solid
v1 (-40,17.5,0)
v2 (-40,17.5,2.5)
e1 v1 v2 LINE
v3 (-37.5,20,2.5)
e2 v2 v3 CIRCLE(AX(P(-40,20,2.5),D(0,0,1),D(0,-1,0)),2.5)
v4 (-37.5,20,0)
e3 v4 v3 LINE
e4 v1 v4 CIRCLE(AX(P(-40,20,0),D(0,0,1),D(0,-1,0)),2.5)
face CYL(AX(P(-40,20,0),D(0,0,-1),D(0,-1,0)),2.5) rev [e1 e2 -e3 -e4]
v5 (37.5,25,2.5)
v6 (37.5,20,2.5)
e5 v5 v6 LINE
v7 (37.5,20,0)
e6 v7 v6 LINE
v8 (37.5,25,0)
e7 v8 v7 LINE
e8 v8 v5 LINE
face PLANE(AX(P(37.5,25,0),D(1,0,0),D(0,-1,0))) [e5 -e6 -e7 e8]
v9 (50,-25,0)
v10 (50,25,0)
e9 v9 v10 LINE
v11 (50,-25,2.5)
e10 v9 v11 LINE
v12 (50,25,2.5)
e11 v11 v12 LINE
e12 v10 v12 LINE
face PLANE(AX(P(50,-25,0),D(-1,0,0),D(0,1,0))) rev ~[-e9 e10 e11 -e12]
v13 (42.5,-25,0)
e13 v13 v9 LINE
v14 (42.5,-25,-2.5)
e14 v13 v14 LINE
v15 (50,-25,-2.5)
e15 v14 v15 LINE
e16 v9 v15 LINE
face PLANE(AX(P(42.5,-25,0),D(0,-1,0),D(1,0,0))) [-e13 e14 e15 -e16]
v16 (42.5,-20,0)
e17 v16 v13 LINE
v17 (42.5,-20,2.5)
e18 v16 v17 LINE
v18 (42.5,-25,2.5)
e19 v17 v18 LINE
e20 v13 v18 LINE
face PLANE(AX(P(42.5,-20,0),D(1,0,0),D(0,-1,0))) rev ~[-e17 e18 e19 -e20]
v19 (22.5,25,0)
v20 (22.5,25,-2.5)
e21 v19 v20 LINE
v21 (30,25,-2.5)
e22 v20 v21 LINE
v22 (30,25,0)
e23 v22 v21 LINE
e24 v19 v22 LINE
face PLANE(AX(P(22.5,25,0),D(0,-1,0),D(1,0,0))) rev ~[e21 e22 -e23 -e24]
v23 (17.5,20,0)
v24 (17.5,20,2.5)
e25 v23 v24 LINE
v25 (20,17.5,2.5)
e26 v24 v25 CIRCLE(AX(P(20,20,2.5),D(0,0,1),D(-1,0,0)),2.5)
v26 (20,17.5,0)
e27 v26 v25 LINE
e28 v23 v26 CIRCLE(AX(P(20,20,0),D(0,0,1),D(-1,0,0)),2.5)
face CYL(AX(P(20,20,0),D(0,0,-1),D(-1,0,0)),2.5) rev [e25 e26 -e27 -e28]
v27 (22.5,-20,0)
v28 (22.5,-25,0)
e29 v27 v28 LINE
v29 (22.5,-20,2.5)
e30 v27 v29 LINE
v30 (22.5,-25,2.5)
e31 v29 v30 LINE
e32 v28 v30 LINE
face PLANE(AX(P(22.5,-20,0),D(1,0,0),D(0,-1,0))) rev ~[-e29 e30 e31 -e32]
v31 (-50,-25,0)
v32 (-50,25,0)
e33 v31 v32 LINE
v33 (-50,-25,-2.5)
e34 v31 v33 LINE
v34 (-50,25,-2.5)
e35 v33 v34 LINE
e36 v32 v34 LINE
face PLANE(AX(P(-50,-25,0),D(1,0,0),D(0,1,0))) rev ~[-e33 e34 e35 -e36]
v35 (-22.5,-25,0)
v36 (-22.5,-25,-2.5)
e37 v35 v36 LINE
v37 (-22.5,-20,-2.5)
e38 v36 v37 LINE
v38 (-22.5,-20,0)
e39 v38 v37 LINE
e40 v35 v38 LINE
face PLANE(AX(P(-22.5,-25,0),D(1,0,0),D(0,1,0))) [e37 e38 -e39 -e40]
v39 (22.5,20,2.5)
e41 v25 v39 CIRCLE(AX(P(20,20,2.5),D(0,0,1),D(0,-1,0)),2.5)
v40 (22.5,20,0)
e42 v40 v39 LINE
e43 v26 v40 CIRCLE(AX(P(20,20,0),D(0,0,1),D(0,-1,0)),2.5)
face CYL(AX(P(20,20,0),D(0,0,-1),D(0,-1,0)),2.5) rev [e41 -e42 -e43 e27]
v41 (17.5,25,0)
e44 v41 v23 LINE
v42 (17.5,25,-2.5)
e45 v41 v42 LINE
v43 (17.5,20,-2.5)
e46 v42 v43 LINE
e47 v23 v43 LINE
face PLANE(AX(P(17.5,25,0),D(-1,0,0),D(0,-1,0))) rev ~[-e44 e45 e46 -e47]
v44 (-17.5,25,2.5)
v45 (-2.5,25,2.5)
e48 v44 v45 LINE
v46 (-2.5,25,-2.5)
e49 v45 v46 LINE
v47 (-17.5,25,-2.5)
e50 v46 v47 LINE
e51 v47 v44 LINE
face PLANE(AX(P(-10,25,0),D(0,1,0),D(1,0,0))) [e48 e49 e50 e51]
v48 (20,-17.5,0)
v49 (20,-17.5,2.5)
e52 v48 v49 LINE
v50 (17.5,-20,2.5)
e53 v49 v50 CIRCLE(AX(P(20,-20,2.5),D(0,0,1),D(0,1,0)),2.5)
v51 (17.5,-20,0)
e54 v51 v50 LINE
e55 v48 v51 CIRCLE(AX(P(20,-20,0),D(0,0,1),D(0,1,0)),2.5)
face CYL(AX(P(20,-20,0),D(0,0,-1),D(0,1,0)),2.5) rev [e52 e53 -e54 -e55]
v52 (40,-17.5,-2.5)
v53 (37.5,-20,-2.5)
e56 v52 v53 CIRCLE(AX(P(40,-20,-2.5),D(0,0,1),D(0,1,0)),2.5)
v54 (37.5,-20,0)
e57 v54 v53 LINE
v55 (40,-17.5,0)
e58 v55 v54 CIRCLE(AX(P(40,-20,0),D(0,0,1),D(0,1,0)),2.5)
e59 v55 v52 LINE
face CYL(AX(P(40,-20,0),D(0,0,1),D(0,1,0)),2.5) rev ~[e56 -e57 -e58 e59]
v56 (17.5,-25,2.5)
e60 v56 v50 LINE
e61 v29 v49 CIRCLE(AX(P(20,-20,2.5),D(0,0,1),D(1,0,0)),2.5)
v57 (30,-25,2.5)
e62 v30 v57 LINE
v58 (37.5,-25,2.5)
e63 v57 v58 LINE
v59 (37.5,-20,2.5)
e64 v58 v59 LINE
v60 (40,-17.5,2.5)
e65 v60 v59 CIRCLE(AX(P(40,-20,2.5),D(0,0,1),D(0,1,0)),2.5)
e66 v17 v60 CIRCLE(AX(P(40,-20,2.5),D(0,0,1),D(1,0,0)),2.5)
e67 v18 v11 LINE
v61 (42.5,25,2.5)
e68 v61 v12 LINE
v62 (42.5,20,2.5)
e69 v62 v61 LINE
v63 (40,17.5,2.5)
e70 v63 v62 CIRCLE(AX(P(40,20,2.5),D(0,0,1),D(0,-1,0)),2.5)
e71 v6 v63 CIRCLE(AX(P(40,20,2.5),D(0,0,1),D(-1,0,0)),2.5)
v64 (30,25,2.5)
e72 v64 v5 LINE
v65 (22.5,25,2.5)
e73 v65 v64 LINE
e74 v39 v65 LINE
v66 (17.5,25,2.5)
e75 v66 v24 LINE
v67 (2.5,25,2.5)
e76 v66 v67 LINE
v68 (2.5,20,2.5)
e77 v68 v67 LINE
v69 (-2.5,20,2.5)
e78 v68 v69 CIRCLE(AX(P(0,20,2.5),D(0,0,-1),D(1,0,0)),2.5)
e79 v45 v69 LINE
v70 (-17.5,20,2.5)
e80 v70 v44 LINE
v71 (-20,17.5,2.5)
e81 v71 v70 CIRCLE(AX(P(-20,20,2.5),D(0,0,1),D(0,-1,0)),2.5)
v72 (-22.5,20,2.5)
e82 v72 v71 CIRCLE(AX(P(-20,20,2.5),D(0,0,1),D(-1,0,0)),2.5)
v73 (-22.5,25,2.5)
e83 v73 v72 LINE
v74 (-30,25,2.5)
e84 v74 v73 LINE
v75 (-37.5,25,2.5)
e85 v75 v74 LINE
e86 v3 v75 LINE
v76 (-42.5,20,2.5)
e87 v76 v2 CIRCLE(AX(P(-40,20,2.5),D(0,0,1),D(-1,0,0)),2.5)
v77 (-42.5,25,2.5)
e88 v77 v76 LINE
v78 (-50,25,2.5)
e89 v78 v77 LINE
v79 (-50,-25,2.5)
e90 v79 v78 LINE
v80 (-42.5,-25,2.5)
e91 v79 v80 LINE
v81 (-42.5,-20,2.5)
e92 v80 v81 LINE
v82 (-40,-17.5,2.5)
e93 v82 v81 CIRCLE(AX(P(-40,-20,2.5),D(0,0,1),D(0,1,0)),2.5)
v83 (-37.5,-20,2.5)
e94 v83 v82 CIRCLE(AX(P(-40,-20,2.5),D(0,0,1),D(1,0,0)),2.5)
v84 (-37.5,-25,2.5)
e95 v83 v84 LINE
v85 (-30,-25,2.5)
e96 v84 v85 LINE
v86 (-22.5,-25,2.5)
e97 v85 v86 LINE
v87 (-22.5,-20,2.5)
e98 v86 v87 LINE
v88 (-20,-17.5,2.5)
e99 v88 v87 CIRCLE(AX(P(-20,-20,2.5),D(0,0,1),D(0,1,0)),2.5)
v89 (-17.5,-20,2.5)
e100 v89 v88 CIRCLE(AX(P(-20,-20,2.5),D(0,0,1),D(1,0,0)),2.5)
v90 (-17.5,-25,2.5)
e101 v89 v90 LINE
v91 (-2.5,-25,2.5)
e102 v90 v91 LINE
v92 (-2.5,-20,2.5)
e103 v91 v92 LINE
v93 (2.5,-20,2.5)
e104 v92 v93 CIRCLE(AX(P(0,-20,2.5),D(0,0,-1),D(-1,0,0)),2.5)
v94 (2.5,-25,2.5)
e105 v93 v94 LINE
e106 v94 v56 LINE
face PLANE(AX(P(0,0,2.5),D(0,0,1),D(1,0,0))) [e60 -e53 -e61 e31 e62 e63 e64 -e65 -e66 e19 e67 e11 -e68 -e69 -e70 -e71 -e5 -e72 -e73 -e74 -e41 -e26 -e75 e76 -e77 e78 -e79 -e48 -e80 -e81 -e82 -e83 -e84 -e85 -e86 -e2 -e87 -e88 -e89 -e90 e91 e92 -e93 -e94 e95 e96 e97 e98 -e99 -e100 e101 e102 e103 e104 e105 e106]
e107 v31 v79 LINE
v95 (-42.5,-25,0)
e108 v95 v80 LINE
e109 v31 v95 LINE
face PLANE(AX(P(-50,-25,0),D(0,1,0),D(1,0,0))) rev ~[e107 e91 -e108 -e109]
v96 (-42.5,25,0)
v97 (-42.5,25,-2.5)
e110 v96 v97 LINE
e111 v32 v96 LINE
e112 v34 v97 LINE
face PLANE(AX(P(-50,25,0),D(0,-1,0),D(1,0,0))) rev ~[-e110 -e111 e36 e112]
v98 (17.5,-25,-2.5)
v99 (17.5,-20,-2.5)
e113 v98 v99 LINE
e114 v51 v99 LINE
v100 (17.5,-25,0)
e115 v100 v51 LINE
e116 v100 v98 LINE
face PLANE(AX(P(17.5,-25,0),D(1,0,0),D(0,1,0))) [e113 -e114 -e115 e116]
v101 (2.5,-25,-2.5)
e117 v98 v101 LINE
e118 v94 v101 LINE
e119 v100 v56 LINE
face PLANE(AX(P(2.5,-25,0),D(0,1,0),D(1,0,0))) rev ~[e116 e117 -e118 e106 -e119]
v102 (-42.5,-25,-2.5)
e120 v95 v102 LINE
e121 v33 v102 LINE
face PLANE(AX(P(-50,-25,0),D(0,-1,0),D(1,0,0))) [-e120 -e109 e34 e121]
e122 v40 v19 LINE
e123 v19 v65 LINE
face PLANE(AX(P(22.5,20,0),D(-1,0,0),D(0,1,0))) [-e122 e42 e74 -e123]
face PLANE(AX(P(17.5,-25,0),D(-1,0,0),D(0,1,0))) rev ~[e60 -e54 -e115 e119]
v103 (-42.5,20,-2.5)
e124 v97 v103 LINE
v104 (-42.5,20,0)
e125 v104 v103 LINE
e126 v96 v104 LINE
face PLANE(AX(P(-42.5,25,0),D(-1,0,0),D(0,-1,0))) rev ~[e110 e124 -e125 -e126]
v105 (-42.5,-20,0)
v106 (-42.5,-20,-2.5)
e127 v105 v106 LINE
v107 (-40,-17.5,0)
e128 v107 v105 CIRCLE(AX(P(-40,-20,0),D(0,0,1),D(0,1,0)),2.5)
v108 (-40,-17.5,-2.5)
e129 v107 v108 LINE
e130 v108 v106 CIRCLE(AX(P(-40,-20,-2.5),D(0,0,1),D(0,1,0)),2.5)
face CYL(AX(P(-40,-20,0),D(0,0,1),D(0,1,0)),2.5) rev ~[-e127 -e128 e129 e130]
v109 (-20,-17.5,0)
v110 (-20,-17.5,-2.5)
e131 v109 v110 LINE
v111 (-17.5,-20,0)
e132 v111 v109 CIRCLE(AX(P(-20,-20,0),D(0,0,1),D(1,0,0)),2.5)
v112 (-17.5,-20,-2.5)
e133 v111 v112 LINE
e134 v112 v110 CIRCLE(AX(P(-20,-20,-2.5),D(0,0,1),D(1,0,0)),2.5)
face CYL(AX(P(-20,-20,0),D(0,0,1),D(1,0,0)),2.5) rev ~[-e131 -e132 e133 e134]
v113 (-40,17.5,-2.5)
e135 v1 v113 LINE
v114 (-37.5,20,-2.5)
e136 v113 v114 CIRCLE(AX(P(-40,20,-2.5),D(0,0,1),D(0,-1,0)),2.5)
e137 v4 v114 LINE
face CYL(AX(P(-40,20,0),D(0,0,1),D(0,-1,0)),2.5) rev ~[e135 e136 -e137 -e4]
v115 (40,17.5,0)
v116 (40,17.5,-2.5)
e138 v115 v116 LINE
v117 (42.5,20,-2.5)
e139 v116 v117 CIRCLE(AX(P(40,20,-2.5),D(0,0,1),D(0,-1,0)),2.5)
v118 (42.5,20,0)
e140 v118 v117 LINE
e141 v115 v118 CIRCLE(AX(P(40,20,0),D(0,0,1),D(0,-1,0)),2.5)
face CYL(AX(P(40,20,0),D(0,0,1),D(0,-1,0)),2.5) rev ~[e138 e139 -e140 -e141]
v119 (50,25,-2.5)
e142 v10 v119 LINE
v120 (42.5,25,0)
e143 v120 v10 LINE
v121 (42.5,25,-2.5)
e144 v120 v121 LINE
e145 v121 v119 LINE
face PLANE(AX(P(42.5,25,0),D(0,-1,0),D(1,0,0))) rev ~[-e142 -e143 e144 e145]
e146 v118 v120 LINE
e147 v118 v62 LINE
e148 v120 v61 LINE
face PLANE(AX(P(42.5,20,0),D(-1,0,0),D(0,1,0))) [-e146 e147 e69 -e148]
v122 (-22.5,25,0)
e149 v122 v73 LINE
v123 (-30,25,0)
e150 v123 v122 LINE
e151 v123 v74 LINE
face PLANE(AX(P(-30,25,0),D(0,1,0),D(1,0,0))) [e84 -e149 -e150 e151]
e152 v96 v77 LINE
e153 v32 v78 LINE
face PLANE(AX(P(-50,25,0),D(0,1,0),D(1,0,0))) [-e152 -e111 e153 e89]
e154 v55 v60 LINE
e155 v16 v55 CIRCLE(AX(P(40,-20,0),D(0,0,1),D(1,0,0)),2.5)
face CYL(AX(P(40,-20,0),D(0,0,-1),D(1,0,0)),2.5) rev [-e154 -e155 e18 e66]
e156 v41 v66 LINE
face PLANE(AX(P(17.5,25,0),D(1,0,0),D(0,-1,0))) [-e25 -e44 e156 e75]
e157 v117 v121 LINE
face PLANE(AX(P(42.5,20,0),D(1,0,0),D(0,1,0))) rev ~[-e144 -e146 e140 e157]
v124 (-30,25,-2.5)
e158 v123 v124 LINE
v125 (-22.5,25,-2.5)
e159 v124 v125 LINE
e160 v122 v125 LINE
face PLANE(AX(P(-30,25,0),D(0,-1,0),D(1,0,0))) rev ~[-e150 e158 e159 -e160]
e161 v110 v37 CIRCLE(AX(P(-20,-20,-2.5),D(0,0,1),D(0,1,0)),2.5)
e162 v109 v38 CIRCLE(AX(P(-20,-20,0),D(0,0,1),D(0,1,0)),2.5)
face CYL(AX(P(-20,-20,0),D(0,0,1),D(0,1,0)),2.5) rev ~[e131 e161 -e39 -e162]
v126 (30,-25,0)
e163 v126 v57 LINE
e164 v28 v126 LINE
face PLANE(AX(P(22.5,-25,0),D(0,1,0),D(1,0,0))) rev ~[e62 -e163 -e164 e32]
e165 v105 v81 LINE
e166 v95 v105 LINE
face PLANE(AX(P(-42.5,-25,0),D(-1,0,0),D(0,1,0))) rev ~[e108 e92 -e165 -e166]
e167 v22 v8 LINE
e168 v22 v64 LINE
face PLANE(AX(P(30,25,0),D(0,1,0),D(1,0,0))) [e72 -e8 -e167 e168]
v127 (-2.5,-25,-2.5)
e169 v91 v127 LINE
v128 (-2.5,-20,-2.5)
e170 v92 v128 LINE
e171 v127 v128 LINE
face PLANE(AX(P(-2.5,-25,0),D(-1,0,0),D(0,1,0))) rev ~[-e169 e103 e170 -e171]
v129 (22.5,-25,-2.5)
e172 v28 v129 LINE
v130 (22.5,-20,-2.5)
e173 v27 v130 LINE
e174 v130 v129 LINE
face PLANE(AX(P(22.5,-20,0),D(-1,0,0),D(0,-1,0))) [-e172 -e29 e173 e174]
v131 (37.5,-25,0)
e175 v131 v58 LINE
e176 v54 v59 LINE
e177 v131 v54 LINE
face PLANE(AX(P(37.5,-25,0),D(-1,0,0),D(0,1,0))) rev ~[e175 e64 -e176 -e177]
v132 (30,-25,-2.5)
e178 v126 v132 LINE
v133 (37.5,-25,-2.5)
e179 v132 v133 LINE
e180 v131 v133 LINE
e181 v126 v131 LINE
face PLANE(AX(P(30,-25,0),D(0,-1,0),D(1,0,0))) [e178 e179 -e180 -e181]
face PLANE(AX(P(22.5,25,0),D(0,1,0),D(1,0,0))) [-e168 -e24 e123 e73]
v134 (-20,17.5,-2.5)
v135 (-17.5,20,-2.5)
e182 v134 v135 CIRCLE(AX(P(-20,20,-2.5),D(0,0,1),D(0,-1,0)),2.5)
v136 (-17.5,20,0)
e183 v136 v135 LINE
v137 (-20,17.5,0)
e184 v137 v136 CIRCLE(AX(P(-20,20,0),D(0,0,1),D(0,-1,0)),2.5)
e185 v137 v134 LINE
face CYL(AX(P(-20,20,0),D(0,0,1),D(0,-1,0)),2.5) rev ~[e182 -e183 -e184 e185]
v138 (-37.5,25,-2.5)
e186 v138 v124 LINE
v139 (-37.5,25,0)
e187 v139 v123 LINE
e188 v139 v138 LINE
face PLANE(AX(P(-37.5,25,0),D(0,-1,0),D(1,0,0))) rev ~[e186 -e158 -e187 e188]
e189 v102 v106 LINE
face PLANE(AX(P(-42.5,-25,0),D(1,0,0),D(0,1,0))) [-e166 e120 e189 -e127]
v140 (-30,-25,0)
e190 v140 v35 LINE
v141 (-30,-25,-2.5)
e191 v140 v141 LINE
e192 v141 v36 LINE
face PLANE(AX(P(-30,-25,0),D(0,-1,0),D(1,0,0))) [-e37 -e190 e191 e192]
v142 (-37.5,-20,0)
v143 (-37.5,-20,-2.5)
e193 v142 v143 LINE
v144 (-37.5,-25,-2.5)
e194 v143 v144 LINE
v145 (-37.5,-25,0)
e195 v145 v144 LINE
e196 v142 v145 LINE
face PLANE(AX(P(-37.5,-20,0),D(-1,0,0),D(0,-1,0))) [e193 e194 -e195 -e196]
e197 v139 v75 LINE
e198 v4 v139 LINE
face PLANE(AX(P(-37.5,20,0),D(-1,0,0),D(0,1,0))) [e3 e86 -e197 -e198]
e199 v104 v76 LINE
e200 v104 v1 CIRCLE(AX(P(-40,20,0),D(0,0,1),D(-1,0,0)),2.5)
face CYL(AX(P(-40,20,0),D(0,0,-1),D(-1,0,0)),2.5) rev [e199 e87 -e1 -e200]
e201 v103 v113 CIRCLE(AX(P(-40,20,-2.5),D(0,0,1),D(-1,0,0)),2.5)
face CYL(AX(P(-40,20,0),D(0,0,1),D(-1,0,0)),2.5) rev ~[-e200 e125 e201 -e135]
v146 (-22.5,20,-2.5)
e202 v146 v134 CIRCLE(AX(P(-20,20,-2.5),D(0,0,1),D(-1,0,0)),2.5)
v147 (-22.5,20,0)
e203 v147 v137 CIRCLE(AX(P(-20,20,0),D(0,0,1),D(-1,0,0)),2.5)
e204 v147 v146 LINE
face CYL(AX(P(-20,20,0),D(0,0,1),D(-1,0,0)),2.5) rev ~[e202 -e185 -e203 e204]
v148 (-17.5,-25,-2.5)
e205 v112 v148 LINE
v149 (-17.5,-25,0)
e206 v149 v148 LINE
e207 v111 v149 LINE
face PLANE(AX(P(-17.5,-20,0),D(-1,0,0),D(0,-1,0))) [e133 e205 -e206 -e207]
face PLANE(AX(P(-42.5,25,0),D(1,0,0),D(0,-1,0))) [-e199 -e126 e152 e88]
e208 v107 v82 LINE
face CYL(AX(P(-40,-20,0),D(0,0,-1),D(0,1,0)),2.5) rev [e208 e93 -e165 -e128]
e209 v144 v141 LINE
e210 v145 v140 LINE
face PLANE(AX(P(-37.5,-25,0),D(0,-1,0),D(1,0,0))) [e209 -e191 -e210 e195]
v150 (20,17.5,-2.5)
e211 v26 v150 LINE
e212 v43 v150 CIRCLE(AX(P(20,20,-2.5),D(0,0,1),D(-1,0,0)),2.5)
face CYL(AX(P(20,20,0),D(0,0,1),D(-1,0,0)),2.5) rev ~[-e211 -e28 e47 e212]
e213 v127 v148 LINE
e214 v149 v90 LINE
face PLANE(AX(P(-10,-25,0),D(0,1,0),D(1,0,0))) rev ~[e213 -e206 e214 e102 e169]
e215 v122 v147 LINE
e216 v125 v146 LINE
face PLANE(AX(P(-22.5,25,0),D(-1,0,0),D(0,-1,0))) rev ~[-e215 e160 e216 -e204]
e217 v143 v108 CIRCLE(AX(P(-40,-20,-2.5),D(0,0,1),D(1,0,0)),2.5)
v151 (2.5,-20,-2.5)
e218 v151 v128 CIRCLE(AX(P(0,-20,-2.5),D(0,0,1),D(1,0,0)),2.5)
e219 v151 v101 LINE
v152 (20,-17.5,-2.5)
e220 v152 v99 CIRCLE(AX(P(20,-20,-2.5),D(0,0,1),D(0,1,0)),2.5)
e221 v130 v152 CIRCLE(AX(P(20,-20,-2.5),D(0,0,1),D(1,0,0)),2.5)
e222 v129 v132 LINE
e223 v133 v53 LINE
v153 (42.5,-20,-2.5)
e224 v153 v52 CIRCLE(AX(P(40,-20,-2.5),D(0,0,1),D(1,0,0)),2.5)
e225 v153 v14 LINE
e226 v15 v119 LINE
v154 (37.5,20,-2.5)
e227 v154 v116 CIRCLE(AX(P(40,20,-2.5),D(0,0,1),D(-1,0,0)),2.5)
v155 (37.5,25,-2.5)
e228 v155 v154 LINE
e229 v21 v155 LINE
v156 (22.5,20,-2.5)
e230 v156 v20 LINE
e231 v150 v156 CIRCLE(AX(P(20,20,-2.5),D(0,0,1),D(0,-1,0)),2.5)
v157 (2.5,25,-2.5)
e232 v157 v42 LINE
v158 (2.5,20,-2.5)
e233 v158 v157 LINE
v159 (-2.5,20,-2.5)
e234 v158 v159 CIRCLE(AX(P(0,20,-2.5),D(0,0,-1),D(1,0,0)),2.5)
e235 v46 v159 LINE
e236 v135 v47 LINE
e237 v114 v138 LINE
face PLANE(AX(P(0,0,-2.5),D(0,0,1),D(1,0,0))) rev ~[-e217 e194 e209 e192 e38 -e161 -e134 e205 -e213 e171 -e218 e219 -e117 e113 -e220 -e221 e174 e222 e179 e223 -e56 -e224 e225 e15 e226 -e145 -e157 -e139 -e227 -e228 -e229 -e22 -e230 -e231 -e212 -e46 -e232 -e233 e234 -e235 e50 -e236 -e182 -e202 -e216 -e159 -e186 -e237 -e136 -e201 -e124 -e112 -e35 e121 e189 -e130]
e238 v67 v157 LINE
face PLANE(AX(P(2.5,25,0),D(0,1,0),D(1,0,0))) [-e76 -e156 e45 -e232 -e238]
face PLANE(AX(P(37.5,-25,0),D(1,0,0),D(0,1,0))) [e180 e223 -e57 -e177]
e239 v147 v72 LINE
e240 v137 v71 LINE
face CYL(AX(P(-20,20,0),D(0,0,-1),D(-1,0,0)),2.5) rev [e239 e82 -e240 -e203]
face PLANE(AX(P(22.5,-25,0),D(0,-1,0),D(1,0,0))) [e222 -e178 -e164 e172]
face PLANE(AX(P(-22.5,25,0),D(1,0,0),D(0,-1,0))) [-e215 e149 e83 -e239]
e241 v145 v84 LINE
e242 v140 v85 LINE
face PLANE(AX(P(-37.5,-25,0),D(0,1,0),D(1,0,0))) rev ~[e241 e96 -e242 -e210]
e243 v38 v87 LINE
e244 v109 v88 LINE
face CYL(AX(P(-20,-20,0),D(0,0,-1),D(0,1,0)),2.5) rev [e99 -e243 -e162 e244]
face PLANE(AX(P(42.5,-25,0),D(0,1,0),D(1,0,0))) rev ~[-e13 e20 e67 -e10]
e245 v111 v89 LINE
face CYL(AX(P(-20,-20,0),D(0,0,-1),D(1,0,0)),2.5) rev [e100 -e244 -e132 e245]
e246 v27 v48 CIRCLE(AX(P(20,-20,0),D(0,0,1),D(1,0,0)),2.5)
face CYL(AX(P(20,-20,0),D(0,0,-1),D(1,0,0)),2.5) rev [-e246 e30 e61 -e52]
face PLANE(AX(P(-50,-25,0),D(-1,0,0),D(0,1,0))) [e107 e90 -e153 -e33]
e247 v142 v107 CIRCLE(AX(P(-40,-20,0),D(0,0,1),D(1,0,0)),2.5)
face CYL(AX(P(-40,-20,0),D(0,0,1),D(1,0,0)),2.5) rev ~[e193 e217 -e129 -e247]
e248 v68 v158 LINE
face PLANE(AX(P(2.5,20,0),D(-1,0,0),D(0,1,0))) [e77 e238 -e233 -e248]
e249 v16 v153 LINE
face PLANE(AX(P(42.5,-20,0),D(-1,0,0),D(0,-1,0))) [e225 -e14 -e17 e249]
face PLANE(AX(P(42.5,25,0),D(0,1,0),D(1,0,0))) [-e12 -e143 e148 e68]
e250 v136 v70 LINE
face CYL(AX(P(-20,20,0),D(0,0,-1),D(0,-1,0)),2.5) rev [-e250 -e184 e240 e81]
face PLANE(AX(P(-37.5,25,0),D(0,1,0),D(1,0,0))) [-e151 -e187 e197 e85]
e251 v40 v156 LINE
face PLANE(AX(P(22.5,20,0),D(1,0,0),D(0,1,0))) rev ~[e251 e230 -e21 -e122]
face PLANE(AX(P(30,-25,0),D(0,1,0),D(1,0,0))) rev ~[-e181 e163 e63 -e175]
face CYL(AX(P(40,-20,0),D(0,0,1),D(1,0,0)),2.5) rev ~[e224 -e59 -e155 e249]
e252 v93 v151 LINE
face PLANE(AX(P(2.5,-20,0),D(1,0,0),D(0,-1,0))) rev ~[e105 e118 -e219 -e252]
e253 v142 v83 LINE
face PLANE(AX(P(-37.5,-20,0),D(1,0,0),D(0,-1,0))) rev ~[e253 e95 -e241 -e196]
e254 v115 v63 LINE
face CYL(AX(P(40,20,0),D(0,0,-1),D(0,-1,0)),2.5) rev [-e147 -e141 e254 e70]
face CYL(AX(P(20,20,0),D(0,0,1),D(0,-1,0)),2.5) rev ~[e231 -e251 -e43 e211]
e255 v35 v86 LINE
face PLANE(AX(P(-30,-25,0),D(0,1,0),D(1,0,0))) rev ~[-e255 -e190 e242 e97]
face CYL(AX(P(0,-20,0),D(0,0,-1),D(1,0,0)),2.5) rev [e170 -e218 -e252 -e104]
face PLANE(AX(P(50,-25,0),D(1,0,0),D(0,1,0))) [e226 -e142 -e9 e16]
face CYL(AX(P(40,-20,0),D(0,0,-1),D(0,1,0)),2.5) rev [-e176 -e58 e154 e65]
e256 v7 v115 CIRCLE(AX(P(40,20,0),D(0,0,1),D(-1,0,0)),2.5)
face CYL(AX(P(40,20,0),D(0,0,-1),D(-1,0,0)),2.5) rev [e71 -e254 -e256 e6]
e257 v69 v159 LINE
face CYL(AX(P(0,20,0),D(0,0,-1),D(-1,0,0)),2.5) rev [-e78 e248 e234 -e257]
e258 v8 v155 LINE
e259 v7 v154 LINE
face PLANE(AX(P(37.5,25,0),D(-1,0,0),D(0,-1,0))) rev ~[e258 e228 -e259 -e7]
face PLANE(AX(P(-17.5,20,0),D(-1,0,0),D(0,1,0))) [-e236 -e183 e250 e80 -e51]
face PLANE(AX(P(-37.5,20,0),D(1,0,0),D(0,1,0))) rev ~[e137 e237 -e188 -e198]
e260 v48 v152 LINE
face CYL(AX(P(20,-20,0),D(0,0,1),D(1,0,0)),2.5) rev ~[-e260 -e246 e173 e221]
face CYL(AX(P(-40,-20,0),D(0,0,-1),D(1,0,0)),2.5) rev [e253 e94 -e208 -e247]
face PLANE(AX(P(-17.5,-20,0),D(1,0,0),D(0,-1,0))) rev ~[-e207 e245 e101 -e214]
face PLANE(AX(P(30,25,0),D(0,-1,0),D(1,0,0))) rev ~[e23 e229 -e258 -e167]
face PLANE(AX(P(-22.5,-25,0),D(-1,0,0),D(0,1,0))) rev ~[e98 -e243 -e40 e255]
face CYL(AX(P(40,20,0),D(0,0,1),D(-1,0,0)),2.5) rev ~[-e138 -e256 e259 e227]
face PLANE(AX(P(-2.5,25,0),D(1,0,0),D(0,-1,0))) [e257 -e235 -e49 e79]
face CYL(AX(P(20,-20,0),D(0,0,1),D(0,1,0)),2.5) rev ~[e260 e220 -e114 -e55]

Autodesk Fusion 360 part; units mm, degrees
sketch "Sketch1" plane through (0, 0, 0) normal (0, 0, 1) x (1, 0, 0)
  line L0 (-10, 25) -> (-2.5, 25)
  line L1 (-2.5, 25) -> (-2.5, 20)
  arc A0 (-2.5, 20) -> (0, 17.5) centre (0, 20) ccw
  arc A1 (0, 17.5) -> (2.5, 20) centre (0, 20) ccw
  line L2 (2.5, 20) -> (2.5, 25)
  line L3 (2.5, 25) -> (10, 25)
  line L4 (0, 0) -> (0, 20) construction
  line L5 (0, 0) -> (10, 0) construction
  line L6 (-10, -25) -> (-2.5, -25)
  line L7 (-2.5, -25) -> (-2.5, -20)
  arc A2 (0, -17.5) -> (-2.5, -20) centre (0, -20) ccw
  arc A3 (2.5, -20) -> (0, -17.5) centre (0, -20) ccw
  line L8 (2.5, -20) -> (2.5, -25)
  line L9 (2.5, -25) -> (10, -25)
  line L10 (10, -25) -> (10, 25)
  line L11 (-10, -25) -> (-10, 25)
  line L12 (-10, 17.5) -> (10, 17.5) construction
  line L13 (-37.5, 25) -> (-30, 25)
  line L14 (-37.5, 20) -> (-37.5, 25)
  arc A4 (-40, 17.5) -> (-37.5, 20) centre (-40, 20) ccw
  arc A5 (-42.5, 20) -> (-40, 17.5) centre (-40, 20) ccw
  line L15 (-42.5, 25) -> (-42.5, 20)
  line L16 (-50, 25) -> (-42.5, 25)
  line L17 (-50, -25) -> (-50, 25)
  line L18 (-50, -25) -> (-42.5, -25)
  line L19 (-42.5, -25) -> (-42.5, -20)
  arc A6 (-40, -17.5) -> (-42.5, -20) centre (-40, -20) ccw
  arc A7 (-37.5, -20) -> (-40, -17.5) centre (-40, -20) ccw
  line L20 (-37.5, -20) -> (-37.5, -25)
  line L21 (-37.5, -25) -> (-30, -25)
  line L22 (-30, -25) -> (-30, 25)
  line L23 (-17.5, 25) -> (-10, 25)
  line L24 (-17.5, 20) -> (-17.5, 25)
  arc A8 (-20, 17.5) -> (-17.5, 20) centre (-20, 20) ccw
  arc A9 (-22.5, 20) -> (-20, 17.5) centre (-20, 20) ccw
  line L25 (-22.5, 25) -> (-22.5, 20)
  line L26 (-30, 25) -> (-22.5, 25)
  line L27 (-30, -25) -> (-30, 25)
  line L28 (-30, -25) -> (-22.5, -25)
  line L29 (-22.5, -25) -> (-22.5, -20)
  arc A10 (-20, -17.5) -> (-22.5, -20) centre (-20, -20) ccw
  arc A11 (-17.5, -20) -> (-20, -17.5) centre (-20, -20) ccw
  line L30 (-17.5, -20) -> (-17.5, -25)
  line L31 (-17.5, -25) -> (-10, -25)
  line L32 (-10, -25) -> (-10, 25)
  line L33 (22.5, 25) -> (30, 25)
  line L34 (22.5, 20) -> (22.5, 25)
  arc A12 (20, 17.5) -> (22.5, 20) centre (20, 20) ccw
  arc A13 (17.5, 20) -> (20, 17.5) centre (20, 20) ccw
  line L35 (17.5, 25) -> (17.5, 20)
  line L36 (10, 25) -> (17.5, 25)
  line L37 (10, -25) -> (10, 25)
  line L38 (10, -25) -> (17.5, -25)
  line L39 (17.5, -25) -> (17.5, -20)
  arc A14 (20, -17.5) -> (17.5, -20) centre (20, -20) ccw
  arc A15 (22.5, -20) -> (20, -17.5) centre (20, -20) ccw
  line L40 (22.5, -20) -> (22.5, -25)
  line L41 (22.5, -25) -> (30, -25)
  line L42 (30, -25) -> (30, 25)
  line L43 (42.5, 25) -> (50, 25)
  line L44 (42.5, 20) -> (42.5, 25)
  arc A16 (40, 17.5) -> (42.5, 20) centre (40, 20) ccw
  arc A17 (37.5, 20) -> (40, 17.5) centre (40, 20) ccw
  line L45 (37.5, 25) -> (37.5, 20)
  line L46 (30, 25) -> (37.5, 25)
  line L47 (30, -25) -> (30, 25)
  line L48 (30, -25) -> (37.5, -25)
  line L49 (37.5, -25) -> (37.5, -20)
  arc A18 (40, -17.5) -> (37.5, -20) centre (40, -20) ccw
  arc A19 (42.5, -20) -> (40, -17.5) centre (40, -20) ccw
  line L50 (42.5, -20) -> (42.5, -25)
  line L51 (42.5, -25) -> (50, -25)
  line L52 (50, -25) -> (50, 25)
  dimension "Notch_Radius" = 2.5
  dimension "Notch_Height" = 7.5
  dimension "Total_Height" = 50
  dimension "Repeat_Length" = 20
  dimension "Repeat_Spacing" = 20
  dimension "d8" = 0
extrude "Extrude1" add sketch "Sketch1" along normal mid plane 5
equation "Number_Repeat = 5"
equation "Thickness = 0.5 cm"
